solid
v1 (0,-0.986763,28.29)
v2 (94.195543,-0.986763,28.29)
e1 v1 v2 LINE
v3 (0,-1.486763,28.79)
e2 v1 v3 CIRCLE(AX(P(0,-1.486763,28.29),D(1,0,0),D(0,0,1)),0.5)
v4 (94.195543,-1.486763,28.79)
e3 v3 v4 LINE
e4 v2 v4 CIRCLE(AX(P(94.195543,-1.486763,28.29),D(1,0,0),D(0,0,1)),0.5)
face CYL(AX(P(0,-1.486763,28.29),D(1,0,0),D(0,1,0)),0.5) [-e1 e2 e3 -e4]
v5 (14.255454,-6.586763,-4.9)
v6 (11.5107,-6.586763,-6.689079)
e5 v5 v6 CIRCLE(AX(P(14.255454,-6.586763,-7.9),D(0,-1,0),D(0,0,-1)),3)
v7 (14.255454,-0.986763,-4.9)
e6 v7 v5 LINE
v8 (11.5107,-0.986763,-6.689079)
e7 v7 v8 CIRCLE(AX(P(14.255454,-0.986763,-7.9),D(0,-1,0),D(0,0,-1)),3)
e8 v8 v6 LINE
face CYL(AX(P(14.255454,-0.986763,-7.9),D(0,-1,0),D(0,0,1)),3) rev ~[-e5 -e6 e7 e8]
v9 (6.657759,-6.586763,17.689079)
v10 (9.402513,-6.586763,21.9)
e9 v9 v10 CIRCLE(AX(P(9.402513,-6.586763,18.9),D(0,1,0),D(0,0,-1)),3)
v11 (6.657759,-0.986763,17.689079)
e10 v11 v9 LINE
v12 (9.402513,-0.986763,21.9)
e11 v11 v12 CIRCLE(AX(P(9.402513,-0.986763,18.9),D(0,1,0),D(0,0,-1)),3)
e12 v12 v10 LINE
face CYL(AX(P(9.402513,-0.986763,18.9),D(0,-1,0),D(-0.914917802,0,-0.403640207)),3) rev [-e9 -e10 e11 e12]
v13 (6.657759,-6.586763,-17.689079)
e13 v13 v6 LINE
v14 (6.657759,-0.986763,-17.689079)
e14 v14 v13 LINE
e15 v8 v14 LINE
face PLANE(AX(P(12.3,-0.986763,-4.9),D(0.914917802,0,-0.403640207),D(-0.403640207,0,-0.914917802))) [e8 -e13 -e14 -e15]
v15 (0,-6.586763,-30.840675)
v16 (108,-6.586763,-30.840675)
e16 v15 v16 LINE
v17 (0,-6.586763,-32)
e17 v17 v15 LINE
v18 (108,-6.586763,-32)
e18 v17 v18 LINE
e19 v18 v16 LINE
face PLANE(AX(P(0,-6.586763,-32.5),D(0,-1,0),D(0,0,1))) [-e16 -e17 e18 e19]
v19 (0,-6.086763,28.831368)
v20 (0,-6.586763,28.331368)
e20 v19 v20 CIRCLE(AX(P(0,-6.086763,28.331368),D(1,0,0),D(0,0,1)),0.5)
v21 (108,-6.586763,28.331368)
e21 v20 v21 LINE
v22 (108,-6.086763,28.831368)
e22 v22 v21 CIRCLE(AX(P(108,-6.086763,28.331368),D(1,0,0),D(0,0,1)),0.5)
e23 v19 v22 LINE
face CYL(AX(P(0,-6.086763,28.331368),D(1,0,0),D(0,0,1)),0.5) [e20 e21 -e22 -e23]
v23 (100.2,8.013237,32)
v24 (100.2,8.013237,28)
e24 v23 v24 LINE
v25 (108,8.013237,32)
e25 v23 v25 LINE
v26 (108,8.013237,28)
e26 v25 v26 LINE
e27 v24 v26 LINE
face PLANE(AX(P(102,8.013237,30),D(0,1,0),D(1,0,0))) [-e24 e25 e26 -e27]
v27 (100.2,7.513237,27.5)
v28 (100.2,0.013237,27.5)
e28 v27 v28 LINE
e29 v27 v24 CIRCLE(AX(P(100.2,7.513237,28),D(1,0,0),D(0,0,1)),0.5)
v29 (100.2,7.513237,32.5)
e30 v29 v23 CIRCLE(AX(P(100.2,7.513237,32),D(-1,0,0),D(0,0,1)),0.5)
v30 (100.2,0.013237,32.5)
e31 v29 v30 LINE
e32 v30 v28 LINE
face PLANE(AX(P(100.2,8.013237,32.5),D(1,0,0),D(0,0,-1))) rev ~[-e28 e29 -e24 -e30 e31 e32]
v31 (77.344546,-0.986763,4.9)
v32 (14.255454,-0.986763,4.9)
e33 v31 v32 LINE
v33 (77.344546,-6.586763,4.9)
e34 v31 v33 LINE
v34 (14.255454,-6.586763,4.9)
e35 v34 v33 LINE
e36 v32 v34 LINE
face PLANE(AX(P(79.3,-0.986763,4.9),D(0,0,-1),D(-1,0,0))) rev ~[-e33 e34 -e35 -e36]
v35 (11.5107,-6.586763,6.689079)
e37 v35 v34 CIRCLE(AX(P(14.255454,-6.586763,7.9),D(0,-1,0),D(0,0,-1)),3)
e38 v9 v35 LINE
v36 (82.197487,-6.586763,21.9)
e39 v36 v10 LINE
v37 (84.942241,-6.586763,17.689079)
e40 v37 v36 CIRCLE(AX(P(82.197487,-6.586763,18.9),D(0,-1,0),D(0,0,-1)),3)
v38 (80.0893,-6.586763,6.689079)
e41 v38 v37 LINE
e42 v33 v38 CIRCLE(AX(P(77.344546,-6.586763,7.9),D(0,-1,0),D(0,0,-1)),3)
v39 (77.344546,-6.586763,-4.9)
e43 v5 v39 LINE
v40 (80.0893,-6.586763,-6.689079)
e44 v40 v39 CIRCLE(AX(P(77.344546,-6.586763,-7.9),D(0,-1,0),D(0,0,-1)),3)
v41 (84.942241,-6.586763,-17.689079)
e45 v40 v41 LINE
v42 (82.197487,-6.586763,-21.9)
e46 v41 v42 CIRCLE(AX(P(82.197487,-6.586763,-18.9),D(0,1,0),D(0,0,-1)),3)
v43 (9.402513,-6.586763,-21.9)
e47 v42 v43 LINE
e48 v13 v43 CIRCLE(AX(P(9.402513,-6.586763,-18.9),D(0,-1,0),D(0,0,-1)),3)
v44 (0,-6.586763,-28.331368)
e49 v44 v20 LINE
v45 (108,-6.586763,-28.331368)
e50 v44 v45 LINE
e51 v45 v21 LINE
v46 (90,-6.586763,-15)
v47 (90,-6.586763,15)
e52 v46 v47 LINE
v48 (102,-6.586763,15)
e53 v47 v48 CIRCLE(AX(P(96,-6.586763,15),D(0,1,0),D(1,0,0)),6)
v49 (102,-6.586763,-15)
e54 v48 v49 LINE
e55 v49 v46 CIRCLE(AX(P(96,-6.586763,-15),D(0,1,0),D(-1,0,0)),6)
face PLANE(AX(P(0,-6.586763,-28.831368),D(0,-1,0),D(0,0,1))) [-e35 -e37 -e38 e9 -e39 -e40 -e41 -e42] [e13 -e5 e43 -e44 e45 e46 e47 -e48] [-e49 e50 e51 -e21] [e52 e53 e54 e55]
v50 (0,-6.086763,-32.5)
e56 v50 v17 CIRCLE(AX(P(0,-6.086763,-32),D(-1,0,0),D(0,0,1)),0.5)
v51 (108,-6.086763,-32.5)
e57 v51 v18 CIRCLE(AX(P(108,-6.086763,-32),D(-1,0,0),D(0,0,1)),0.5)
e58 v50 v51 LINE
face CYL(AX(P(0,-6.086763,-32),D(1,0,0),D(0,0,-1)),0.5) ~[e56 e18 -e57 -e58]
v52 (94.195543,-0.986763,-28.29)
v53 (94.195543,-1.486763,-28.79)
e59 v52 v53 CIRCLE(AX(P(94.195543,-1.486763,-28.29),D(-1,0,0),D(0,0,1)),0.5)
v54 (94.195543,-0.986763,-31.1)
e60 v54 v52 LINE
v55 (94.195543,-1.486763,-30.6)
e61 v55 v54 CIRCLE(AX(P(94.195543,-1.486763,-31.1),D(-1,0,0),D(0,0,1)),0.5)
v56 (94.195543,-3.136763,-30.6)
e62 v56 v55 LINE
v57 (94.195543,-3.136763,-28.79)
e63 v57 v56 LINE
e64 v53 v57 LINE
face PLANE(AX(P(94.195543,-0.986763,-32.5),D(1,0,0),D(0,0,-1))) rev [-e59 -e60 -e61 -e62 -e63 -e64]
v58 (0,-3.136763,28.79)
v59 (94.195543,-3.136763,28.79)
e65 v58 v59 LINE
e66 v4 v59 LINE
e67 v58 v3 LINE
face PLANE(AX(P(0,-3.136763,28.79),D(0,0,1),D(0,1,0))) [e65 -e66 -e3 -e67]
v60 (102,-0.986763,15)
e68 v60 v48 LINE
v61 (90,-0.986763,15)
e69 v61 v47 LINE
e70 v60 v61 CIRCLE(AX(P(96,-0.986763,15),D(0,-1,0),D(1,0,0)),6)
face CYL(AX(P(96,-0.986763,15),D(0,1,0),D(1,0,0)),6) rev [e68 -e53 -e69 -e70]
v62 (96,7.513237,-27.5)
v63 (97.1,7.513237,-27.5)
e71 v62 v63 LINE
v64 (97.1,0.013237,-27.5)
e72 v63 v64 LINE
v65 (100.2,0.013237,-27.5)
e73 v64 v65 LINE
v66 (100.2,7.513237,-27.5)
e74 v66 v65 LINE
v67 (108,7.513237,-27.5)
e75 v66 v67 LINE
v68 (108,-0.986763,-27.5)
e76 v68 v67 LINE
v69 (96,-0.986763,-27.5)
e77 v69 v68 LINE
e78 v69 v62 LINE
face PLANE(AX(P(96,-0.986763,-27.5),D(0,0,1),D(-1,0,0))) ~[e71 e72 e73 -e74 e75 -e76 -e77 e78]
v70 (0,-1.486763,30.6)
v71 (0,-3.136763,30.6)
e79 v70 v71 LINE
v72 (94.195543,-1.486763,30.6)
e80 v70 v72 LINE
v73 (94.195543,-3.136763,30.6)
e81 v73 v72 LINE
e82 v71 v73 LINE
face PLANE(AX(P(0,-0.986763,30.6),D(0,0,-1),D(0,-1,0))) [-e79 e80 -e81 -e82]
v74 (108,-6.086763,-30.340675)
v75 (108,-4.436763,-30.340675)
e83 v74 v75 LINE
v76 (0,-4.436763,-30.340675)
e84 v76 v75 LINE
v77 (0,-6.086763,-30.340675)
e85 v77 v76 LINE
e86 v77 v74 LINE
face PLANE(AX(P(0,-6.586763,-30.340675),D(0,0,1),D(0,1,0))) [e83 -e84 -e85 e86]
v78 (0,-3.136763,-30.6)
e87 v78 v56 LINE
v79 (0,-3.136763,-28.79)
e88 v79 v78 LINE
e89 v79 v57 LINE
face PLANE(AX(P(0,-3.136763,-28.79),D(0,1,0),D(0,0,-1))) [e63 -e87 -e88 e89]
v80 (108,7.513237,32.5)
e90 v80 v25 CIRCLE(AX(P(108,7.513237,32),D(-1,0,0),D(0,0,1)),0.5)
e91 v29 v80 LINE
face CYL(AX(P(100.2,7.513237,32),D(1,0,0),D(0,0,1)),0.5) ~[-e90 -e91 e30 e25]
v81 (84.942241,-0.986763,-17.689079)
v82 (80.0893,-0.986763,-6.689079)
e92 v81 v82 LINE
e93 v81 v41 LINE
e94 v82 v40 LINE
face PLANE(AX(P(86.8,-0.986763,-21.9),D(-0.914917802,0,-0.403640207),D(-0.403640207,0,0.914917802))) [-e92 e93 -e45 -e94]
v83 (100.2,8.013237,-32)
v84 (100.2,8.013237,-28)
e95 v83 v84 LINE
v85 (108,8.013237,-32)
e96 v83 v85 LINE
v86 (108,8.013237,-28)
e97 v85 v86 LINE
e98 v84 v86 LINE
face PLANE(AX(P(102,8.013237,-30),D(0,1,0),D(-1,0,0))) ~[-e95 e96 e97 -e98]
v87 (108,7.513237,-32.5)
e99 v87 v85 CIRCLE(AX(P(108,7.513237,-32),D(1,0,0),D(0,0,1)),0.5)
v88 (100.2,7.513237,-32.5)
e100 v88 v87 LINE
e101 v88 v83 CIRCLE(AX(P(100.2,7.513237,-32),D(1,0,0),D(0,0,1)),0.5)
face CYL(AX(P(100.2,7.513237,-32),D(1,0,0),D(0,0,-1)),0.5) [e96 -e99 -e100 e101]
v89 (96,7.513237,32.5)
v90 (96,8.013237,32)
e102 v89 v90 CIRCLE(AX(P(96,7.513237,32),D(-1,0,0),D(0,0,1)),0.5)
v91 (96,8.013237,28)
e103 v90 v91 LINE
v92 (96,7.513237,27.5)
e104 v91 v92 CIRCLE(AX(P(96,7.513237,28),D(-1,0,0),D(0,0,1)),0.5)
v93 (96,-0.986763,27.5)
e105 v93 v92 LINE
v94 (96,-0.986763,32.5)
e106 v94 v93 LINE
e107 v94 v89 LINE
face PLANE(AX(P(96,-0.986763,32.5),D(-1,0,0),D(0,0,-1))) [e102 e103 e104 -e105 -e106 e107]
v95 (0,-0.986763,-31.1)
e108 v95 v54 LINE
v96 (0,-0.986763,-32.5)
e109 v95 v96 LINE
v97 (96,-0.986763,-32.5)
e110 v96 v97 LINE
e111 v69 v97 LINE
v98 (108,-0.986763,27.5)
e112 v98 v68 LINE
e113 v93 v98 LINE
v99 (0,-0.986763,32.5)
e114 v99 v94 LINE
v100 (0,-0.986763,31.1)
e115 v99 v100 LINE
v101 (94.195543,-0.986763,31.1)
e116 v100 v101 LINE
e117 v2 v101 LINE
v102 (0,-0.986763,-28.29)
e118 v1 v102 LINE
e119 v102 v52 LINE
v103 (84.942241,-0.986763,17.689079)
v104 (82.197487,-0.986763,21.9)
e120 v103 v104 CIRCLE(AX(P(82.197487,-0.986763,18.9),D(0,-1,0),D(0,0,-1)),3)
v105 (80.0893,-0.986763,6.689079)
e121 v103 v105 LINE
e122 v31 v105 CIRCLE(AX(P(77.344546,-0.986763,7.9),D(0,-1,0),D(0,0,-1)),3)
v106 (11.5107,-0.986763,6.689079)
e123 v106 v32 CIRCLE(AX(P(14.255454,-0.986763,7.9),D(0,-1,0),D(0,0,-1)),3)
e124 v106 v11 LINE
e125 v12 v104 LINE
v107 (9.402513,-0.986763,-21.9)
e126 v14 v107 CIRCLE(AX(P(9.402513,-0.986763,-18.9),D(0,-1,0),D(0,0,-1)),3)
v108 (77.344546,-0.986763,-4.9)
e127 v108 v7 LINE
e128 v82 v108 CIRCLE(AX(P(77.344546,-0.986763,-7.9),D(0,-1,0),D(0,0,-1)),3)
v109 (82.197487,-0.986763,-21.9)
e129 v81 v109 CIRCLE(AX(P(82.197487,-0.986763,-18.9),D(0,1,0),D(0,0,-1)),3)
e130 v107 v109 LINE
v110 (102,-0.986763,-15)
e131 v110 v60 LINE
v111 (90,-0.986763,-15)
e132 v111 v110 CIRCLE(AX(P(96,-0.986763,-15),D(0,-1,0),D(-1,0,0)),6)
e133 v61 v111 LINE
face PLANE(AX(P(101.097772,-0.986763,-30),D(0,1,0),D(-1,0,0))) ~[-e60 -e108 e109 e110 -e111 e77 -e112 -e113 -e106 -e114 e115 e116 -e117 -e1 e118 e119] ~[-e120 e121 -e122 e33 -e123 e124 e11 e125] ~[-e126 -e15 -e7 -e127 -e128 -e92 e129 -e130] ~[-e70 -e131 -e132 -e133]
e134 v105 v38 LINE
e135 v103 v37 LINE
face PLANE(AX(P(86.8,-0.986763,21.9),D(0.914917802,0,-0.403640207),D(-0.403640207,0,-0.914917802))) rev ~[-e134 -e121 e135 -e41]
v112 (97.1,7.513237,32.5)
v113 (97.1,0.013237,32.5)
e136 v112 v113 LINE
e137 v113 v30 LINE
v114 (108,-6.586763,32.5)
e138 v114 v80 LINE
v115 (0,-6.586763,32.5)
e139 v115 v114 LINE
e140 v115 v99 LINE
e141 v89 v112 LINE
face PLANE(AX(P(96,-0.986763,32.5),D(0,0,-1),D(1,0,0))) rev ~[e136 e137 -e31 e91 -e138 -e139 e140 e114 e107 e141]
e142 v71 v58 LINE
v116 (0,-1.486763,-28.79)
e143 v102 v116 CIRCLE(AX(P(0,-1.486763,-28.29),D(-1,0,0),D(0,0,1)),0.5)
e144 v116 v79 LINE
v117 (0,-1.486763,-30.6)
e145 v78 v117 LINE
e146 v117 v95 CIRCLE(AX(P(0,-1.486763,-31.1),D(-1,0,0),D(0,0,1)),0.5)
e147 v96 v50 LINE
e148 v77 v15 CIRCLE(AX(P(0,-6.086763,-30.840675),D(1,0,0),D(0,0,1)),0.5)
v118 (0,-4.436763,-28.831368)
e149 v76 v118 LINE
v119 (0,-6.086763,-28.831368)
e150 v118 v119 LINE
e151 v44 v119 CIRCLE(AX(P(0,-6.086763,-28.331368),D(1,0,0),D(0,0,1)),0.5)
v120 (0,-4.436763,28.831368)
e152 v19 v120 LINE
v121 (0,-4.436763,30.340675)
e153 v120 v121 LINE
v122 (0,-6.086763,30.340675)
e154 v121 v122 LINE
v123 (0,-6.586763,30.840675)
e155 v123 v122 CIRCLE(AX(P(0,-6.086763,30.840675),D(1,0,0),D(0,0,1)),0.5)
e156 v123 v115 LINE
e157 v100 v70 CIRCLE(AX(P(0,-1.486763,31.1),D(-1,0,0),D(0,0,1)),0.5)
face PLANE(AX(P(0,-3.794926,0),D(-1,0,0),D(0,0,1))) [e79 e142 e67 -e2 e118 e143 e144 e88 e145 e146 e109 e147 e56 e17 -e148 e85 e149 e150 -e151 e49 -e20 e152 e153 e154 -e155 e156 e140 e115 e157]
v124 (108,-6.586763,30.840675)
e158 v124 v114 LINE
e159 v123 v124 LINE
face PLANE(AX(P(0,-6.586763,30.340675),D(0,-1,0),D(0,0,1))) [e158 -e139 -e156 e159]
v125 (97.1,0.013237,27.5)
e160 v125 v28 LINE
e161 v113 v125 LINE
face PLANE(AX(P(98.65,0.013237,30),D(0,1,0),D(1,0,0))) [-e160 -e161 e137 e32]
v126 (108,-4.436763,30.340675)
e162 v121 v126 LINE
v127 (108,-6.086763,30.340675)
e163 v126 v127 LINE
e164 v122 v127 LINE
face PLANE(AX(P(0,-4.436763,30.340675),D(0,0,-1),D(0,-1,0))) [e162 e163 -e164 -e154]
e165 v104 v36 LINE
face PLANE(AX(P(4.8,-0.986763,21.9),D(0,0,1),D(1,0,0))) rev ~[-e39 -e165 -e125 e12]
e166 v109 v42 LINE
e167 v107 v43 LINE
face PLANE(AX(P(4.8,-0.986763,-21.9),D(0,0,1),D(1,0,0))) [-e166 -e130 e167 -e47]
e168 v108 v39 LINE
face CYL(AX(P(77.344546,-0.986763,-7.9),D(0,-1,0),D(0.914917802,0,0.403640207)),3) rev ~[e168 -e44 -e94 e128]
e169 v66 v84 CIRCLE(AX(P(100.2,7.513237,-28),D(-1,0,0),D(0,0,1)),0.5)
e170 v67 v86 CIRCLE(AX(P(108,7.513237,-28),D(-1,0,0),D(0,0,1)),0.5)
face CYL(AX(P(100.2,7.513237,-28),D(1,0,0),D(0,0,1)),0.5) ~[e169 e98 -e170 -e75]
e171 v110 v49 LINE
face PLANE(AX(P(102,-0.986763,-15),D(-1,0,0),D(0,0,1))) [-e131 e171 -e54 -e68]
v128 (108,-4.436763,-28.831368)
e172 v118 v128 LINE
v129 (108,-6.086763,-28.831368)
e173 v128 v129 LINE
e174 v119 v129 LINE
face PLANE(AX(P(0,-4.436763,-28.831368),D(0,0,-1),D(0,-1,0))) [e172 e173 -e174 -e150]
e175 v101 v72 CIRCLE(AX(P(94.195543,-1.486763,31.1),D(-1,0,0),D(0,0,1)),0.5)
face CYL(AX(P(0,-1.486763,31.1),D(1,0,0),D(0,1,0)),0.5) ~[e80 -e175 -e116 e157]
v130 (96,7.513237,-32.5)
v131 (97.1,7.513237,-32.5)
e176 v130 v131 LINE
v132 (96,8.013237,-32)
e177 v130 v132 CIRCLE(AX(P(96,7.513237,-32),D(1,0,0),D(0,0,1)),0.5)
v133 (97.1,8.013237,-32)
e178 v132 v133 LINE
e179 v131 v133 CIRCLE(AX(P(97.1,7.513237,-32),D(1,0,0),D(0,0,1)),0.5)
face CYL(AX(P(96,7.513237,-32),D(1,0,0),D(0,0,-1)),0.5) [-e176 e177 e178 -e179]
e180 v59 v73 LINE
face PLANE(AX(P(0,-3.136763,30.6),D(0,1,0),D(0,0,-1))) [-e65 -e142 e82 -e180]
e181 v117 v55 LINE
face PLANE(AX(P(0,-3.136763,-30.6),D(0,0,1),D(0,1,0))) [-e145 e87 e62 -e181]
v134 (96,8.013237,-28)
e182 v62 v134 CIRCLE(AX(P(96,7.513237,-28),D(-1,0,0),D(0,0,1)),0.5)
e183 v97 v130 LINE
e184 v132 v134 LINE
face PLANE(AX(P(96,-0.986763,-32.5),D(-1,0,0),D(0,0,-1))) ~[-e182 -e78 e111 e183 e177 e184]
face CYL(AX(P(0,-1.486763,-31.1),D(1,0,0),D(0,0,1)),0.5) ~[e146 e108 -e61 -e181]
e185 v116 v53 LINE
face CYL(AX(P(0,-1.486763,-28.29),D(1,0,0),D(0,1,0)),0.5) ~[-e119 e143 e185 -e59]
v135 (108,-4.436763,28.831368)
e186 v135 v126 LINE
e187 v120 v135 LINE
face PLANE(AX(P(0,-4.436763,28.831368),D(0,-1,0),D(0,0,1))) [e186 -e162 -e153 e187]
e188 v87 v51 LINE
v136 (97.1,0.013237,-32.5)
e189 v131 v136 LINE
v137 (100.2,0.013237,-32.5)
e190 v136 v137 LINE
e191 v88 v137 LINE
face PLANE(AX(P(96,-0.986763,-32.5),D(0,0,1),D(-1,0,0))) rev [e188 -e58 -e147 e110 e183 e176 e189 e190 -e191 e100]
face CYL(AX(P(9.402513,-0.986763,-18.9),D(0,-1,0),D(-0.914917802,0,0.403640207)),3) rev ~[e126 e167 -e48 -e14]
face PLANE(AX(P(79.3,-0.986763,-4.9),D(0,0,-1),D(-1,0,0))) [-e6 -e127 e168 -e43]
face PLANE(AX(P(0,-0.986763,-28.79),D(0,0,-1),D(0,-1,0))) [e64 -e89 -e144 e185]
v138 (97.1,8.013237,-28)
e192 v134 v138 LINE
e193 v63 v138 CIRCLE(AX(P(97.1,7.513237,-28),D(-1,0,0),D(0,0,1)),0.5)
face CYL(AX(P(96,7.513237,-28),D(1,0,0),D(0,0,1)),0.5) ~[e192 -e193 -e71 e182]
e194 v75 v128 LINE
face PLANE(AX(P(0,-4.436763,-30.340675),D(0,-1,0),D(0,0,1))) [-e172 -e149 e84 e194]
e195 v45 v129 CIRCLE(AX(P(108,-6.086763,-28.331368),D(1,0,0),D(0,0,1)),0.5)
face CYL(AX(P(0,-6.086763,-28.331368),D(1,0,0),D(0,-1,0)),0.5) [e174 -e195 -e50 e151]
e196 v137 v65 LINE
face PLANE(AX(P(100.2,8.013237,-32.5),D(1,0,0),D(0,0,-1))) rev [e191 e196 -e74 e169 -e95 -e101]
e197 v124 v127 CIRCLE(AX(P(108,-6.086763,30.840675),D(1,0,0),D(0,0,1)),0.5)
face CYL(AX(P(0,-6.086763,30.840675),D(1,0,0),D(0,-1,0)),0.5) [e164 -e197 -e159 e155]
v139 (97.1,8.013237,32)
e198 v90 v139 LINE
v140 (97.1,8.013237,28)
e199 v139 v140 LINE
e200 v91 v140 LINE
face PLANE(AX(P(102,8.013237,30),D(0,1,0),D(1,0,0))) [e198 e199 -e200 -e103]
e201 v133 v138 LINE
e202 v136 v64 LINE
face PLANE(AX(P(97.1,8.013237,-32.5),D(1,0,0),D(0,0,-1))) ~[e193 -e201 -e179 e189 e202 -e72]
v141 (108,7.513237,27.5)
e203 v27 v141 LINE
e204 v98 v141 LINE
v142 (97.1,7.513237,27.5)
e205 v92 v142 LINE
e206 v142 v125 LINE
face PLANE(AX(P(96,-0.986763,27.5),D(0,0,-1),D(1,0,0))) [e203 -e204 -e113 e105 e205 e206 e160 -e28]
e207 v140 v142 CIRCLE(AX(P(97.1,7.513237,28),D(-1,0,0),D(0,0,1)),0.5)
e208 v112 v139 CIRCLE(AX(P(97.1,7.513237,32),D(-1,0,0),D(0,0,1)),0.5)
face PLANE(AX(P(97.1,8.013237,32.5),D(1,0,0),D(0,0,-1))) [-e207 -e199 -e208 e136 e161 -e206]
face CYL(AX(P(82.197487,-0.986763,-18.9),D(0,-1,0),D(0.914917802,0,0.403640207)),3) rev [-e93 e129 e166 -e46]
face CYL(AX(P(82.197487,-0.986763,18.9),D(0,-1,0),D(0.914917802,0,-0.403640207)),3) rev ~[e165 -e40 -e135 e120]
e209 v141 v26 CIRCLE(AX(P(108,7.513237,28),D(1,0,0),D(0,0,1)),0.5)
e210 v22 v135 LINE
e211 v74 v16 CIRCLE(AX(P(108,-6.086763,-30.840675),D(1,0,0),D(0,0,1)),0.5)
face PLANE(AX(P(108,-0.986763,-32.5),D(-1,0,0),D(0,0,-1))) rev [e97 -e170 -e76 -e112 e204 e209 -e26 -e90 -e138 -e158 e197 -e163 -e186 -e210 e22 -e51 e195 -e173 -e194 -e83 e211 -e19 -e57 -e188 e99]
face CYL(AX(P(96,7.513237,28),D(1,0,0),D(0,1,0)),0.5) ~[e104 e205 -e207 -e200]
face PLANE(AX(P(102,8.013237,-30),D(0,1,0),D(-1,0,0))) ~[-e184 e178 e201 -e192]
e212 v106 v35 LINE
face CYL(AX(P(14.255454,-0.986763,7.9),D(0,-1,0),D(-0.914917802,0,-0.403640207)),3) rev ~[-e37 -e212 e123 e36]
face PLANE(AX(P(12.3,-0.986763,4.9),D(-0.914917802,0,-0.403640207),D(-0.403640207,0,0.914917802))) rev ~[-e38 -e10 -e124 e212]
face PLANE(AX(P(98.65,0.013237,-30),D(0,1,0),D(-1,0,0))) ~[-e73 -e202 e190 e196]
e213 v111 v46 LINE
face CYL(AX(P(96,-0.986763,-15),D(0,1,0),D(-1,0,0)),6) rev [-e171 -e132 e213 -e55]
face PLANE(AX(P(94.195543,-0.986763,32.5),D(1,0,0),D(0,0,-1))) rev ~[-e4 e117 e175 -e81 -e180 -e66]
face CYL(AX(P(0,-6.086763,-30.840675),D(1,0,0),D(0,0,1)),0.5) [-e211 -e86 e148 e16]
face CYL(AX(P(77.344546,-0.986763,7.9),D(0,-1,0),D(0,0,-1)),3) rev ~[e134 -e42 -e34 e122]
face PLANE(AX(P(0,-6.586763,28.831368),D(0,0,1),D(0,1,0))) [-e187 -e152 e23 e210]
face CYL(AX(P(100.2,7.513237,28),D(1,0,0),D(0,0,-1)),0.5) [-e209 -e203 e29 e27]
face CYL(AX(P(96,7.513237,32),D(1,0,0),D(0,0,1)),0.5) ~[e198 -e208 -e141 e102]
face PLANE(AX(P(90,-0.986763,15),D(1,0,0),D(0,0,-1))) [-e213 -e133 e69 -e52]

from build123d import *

# Parameters (mm, degrees)
BOSS_EXTRUDE1_DEPTH = 108
BOSS_EXTRUDE3_REACH = 114.923
SKETCH5_W           = 13.804456559
SKETCH5_H           = 5
SKETCH7_W           = 12
SKETCH7_H           = 5
BOSS_EXTRUDE4_DEPTH = 9
SKETCH8_W           = 3.1
SKETCH8_H           = 5
CUT_EXTRUDE1_DEPTH  = 8
FILLET1_R           = 0.5
FILLET2_R           = 0.5
FILLET3_R           = 0.5
FILLET4_R           = 0.5
FILLET5_R           = 0.5
FILLET6_R           = 0.5
FILLET7_R           = 0.5
FILLET8_R           = 0.5
CUT_EXTRUDE2_DEPTH  = 10
FILLET9_R           = 3


with BuildPart() as part:
    # Sketch1 → Boss-Extrude1 (new body)
    with BuildSketch(Plane(origin=(0, 0, 0), x_dir=(0, 0, -1), z_dir=(1, 0, 0))):
        Polygon((32.5, -0.986763128), (32.5, -6.586763128), (30.340675248, -6.586763128), (30.340675248, -4.436763128), (28.831367778, -4.436763128), (28.831367778, -6.586763128), (-28.831367778, -6.586763128), (-28.831367778, -4.436763128), (-30.340675248, -4.436763128), (-30.340675248, -6.586763128), (-32.5, -6.586763128), (-32.5, -0.986763128), (-30.6, -0.986763128), (-30.6, -3.136763128), (-28.79, -3.136763128), (-28.79, -0.986763128), (28.79, -0.986763128), (28.79, -3.136763128), (30.6, -3.136763128), (30.6, -0.986763128), align=None)
    extrude(amount=BOSS_EXTRUDE1_DEPTH)

    # Sketch5 → Boss-Extrude3 (add, up to next)
    with BuildSketch(Plane(origin=(0, -0.986763128, 0), x_dir=(1, 0, 0), z_dir=(0, 1, 0)), mode=Mode.PRIVATE) as boss_extrude3_sk1:
        with Locations((101.097771721, -30)):
            Rectangle(SKETCH5_W, SKETCH5_H)
    boss_extrude3_tool1 = extrude(boss_extrude3_sk1.sketch, amount=-BOSS_EXTRUDE3_REACH, mode=Mode.PRIVATE) - part.part
    boss_extrude3 = boss_extrude3_tool1.solids().sort_by_distance((101.097772, -0.986763, 30))[0]
    add(boss_extrude3)

    # Sketch7 → Boss-Extrude4 (add)
    with BuildSketch(Plane(origin=(0, -0.986763128, 0), x_dir=(1, 0, 0), z_dir=(0, 1, 0))):
        with Locations((102, -30)):
            Rectangle(SKETCH7_W, SKETCH7_H)
    boss_extrude4 = extrude(amount=BOSS_EXTRUDE4_DEPTH)

    # Mirror1: Boss-Extrude4 across plane
    add(boss_extrude4.mirror(Plane.XY))

    # Mirror2: Boss-Extrude3 across plane
    add(boss_extrude3.mirror(Plane.XY))

    # Sketch8 → Cut-Extrude1 (cut)
    with BuildSketch(Plane(origin=(0, 8.013236872, 0), x_dir=(1, 0, 0), z_dir=(0, 1, 0))):
        with Locations((98.65, -30)):
            Rectangle(SKETCH8_W, SKETCH8_H)
    cut_extrude1 = extrude(amount=-CUT_EXTRUDE1_DEPTH, mode=Mode.SUBTRACT)

    # Mirror3: Cut-Extrude1 across plane
    add(cut_extrude1.mirror(Plane.XY), mode=Mode.SUBTRACT)

    # Fillet1
    fillet1_edges = [part.edges().sort_by_distance(p)[0] for p in [
        (47.09777172, -0.986763128, 30.6),
    ]]
    fillet(fillet1_edges, radius=FILLET1_R)

    # Fillet2
    fillet2_edges = [part.edges().sort_by_distance(p)[0] for p in [
        (47.09777172, -0.986763128, 28.79),
    ]]
    fillet(fillet2_edges, radius=FILLET2_R)

    # Fillet3
    fillet3_edges = [part.edges().sort_by_distance(p)[0] for p in [
        (54, -6.586763128, 30.340675248),
    ]]
    fillet(fillet3_edges, radius=FILLET3_R)

    # Fillet4
    fillet4_edges = [part.edges().sort_by_distance(p)[0] for p in [
        (54, -6.586763128, 28.831367778),
    ]]
    fillet(fillet4_edges, radius=FILLET4_R)

    # Fillet5
    fillet5_edges = [part.edges().sort_by_distance(p)[0] for p in [
        (104.1, 8.013236872, 32.5),
    ]]
    fillet(fillet5_edges, radius=FILLET5_R)

    # Fillet6
    fillet6_edges = [part.edges().sort_by_distance(p)[0] for p in [
        (96.55, 8.013236872, 32.5),
    ]]
    fillet(fillet6_edges, radius=FILLET6_R)

    # Fillet7
    fillet7_edges = [part.edges().sort_by_distance(p)[0] for p in [
        (47.09777172, -0.986763128, -28.79),
        (96.55, 8.013236872, 27.5),
        (104.1, 8.013236872, -32.5),
        (96.55, 8.013236872, -27.5),
        (54, -6.586763128, -32.5),
        (54, -6.586763128, -30.340675248),
        (54, -6.586763128, -28.831367778),
        (104.1, 8.013236872, 27.5),
        (96.55, 8.013236872, -32.5),
        (104.1, 8.013236872, -27.5),
    ]]
    fillet(fillet7_edges, radius=FILLET7_R)

    # Fillet8
    fillet8_edges = [part.edges().sort_by_distance(p)[0] for p in [
        (47.09777172, -0.986763128, -30.6),
    ]]
    fillet(fillet8_edges, radius=FILLET8_R)

    # Sketch9 → Cut-Extrude2 (cut)
    with BuildSketch(Plane(origin=(0, -0.986763128, 0), x_dir=(1, 0, 0), z_dir=(0, 1, 0))):
        with BuildLine():
            Line((90, -15), (90, 15))
            ThreePointArc((90, 15), (96, 21), (102, 15))
            Line((102, 15), (102, -15))
            ThreePointArc((102, -15), (96, -21), (90, -15))
        make_face()
        Polygon((86.8, 21.9), (79.3, 4.9), (12.3, 4.9), (4.8, 21.9), align=None)
        Polygon((4.8, -21.9), (86.8, -21.9), (79.3, -4.9), (12.3, -4.9), align=None)
    extrude(amount=-CUT_EXTRUDE2_DEPTH, mode=Mode.SUBTRACT)

    # Fillet9
    fillet9_edges = [part.edges().sort_by_distance(p)[0] for p in [
        (86.8, -3.786763128, 21.9),
        (4.8, -3.786763128, 21.9),
        (12.3, -3.786763128, 4.9),
        (79.3, -3.786763128, 4.9),
        (4.8, -3.786763128, -21.9),
        (86.8, -3.786763128, -21.9),
        (79.3, -3.786763128, -4.9),
        (12.3, -3.786763128, -4.9),
    ]]
    fillet(fillet9_edges, radius=FILLET9_R)


solid = part.part
